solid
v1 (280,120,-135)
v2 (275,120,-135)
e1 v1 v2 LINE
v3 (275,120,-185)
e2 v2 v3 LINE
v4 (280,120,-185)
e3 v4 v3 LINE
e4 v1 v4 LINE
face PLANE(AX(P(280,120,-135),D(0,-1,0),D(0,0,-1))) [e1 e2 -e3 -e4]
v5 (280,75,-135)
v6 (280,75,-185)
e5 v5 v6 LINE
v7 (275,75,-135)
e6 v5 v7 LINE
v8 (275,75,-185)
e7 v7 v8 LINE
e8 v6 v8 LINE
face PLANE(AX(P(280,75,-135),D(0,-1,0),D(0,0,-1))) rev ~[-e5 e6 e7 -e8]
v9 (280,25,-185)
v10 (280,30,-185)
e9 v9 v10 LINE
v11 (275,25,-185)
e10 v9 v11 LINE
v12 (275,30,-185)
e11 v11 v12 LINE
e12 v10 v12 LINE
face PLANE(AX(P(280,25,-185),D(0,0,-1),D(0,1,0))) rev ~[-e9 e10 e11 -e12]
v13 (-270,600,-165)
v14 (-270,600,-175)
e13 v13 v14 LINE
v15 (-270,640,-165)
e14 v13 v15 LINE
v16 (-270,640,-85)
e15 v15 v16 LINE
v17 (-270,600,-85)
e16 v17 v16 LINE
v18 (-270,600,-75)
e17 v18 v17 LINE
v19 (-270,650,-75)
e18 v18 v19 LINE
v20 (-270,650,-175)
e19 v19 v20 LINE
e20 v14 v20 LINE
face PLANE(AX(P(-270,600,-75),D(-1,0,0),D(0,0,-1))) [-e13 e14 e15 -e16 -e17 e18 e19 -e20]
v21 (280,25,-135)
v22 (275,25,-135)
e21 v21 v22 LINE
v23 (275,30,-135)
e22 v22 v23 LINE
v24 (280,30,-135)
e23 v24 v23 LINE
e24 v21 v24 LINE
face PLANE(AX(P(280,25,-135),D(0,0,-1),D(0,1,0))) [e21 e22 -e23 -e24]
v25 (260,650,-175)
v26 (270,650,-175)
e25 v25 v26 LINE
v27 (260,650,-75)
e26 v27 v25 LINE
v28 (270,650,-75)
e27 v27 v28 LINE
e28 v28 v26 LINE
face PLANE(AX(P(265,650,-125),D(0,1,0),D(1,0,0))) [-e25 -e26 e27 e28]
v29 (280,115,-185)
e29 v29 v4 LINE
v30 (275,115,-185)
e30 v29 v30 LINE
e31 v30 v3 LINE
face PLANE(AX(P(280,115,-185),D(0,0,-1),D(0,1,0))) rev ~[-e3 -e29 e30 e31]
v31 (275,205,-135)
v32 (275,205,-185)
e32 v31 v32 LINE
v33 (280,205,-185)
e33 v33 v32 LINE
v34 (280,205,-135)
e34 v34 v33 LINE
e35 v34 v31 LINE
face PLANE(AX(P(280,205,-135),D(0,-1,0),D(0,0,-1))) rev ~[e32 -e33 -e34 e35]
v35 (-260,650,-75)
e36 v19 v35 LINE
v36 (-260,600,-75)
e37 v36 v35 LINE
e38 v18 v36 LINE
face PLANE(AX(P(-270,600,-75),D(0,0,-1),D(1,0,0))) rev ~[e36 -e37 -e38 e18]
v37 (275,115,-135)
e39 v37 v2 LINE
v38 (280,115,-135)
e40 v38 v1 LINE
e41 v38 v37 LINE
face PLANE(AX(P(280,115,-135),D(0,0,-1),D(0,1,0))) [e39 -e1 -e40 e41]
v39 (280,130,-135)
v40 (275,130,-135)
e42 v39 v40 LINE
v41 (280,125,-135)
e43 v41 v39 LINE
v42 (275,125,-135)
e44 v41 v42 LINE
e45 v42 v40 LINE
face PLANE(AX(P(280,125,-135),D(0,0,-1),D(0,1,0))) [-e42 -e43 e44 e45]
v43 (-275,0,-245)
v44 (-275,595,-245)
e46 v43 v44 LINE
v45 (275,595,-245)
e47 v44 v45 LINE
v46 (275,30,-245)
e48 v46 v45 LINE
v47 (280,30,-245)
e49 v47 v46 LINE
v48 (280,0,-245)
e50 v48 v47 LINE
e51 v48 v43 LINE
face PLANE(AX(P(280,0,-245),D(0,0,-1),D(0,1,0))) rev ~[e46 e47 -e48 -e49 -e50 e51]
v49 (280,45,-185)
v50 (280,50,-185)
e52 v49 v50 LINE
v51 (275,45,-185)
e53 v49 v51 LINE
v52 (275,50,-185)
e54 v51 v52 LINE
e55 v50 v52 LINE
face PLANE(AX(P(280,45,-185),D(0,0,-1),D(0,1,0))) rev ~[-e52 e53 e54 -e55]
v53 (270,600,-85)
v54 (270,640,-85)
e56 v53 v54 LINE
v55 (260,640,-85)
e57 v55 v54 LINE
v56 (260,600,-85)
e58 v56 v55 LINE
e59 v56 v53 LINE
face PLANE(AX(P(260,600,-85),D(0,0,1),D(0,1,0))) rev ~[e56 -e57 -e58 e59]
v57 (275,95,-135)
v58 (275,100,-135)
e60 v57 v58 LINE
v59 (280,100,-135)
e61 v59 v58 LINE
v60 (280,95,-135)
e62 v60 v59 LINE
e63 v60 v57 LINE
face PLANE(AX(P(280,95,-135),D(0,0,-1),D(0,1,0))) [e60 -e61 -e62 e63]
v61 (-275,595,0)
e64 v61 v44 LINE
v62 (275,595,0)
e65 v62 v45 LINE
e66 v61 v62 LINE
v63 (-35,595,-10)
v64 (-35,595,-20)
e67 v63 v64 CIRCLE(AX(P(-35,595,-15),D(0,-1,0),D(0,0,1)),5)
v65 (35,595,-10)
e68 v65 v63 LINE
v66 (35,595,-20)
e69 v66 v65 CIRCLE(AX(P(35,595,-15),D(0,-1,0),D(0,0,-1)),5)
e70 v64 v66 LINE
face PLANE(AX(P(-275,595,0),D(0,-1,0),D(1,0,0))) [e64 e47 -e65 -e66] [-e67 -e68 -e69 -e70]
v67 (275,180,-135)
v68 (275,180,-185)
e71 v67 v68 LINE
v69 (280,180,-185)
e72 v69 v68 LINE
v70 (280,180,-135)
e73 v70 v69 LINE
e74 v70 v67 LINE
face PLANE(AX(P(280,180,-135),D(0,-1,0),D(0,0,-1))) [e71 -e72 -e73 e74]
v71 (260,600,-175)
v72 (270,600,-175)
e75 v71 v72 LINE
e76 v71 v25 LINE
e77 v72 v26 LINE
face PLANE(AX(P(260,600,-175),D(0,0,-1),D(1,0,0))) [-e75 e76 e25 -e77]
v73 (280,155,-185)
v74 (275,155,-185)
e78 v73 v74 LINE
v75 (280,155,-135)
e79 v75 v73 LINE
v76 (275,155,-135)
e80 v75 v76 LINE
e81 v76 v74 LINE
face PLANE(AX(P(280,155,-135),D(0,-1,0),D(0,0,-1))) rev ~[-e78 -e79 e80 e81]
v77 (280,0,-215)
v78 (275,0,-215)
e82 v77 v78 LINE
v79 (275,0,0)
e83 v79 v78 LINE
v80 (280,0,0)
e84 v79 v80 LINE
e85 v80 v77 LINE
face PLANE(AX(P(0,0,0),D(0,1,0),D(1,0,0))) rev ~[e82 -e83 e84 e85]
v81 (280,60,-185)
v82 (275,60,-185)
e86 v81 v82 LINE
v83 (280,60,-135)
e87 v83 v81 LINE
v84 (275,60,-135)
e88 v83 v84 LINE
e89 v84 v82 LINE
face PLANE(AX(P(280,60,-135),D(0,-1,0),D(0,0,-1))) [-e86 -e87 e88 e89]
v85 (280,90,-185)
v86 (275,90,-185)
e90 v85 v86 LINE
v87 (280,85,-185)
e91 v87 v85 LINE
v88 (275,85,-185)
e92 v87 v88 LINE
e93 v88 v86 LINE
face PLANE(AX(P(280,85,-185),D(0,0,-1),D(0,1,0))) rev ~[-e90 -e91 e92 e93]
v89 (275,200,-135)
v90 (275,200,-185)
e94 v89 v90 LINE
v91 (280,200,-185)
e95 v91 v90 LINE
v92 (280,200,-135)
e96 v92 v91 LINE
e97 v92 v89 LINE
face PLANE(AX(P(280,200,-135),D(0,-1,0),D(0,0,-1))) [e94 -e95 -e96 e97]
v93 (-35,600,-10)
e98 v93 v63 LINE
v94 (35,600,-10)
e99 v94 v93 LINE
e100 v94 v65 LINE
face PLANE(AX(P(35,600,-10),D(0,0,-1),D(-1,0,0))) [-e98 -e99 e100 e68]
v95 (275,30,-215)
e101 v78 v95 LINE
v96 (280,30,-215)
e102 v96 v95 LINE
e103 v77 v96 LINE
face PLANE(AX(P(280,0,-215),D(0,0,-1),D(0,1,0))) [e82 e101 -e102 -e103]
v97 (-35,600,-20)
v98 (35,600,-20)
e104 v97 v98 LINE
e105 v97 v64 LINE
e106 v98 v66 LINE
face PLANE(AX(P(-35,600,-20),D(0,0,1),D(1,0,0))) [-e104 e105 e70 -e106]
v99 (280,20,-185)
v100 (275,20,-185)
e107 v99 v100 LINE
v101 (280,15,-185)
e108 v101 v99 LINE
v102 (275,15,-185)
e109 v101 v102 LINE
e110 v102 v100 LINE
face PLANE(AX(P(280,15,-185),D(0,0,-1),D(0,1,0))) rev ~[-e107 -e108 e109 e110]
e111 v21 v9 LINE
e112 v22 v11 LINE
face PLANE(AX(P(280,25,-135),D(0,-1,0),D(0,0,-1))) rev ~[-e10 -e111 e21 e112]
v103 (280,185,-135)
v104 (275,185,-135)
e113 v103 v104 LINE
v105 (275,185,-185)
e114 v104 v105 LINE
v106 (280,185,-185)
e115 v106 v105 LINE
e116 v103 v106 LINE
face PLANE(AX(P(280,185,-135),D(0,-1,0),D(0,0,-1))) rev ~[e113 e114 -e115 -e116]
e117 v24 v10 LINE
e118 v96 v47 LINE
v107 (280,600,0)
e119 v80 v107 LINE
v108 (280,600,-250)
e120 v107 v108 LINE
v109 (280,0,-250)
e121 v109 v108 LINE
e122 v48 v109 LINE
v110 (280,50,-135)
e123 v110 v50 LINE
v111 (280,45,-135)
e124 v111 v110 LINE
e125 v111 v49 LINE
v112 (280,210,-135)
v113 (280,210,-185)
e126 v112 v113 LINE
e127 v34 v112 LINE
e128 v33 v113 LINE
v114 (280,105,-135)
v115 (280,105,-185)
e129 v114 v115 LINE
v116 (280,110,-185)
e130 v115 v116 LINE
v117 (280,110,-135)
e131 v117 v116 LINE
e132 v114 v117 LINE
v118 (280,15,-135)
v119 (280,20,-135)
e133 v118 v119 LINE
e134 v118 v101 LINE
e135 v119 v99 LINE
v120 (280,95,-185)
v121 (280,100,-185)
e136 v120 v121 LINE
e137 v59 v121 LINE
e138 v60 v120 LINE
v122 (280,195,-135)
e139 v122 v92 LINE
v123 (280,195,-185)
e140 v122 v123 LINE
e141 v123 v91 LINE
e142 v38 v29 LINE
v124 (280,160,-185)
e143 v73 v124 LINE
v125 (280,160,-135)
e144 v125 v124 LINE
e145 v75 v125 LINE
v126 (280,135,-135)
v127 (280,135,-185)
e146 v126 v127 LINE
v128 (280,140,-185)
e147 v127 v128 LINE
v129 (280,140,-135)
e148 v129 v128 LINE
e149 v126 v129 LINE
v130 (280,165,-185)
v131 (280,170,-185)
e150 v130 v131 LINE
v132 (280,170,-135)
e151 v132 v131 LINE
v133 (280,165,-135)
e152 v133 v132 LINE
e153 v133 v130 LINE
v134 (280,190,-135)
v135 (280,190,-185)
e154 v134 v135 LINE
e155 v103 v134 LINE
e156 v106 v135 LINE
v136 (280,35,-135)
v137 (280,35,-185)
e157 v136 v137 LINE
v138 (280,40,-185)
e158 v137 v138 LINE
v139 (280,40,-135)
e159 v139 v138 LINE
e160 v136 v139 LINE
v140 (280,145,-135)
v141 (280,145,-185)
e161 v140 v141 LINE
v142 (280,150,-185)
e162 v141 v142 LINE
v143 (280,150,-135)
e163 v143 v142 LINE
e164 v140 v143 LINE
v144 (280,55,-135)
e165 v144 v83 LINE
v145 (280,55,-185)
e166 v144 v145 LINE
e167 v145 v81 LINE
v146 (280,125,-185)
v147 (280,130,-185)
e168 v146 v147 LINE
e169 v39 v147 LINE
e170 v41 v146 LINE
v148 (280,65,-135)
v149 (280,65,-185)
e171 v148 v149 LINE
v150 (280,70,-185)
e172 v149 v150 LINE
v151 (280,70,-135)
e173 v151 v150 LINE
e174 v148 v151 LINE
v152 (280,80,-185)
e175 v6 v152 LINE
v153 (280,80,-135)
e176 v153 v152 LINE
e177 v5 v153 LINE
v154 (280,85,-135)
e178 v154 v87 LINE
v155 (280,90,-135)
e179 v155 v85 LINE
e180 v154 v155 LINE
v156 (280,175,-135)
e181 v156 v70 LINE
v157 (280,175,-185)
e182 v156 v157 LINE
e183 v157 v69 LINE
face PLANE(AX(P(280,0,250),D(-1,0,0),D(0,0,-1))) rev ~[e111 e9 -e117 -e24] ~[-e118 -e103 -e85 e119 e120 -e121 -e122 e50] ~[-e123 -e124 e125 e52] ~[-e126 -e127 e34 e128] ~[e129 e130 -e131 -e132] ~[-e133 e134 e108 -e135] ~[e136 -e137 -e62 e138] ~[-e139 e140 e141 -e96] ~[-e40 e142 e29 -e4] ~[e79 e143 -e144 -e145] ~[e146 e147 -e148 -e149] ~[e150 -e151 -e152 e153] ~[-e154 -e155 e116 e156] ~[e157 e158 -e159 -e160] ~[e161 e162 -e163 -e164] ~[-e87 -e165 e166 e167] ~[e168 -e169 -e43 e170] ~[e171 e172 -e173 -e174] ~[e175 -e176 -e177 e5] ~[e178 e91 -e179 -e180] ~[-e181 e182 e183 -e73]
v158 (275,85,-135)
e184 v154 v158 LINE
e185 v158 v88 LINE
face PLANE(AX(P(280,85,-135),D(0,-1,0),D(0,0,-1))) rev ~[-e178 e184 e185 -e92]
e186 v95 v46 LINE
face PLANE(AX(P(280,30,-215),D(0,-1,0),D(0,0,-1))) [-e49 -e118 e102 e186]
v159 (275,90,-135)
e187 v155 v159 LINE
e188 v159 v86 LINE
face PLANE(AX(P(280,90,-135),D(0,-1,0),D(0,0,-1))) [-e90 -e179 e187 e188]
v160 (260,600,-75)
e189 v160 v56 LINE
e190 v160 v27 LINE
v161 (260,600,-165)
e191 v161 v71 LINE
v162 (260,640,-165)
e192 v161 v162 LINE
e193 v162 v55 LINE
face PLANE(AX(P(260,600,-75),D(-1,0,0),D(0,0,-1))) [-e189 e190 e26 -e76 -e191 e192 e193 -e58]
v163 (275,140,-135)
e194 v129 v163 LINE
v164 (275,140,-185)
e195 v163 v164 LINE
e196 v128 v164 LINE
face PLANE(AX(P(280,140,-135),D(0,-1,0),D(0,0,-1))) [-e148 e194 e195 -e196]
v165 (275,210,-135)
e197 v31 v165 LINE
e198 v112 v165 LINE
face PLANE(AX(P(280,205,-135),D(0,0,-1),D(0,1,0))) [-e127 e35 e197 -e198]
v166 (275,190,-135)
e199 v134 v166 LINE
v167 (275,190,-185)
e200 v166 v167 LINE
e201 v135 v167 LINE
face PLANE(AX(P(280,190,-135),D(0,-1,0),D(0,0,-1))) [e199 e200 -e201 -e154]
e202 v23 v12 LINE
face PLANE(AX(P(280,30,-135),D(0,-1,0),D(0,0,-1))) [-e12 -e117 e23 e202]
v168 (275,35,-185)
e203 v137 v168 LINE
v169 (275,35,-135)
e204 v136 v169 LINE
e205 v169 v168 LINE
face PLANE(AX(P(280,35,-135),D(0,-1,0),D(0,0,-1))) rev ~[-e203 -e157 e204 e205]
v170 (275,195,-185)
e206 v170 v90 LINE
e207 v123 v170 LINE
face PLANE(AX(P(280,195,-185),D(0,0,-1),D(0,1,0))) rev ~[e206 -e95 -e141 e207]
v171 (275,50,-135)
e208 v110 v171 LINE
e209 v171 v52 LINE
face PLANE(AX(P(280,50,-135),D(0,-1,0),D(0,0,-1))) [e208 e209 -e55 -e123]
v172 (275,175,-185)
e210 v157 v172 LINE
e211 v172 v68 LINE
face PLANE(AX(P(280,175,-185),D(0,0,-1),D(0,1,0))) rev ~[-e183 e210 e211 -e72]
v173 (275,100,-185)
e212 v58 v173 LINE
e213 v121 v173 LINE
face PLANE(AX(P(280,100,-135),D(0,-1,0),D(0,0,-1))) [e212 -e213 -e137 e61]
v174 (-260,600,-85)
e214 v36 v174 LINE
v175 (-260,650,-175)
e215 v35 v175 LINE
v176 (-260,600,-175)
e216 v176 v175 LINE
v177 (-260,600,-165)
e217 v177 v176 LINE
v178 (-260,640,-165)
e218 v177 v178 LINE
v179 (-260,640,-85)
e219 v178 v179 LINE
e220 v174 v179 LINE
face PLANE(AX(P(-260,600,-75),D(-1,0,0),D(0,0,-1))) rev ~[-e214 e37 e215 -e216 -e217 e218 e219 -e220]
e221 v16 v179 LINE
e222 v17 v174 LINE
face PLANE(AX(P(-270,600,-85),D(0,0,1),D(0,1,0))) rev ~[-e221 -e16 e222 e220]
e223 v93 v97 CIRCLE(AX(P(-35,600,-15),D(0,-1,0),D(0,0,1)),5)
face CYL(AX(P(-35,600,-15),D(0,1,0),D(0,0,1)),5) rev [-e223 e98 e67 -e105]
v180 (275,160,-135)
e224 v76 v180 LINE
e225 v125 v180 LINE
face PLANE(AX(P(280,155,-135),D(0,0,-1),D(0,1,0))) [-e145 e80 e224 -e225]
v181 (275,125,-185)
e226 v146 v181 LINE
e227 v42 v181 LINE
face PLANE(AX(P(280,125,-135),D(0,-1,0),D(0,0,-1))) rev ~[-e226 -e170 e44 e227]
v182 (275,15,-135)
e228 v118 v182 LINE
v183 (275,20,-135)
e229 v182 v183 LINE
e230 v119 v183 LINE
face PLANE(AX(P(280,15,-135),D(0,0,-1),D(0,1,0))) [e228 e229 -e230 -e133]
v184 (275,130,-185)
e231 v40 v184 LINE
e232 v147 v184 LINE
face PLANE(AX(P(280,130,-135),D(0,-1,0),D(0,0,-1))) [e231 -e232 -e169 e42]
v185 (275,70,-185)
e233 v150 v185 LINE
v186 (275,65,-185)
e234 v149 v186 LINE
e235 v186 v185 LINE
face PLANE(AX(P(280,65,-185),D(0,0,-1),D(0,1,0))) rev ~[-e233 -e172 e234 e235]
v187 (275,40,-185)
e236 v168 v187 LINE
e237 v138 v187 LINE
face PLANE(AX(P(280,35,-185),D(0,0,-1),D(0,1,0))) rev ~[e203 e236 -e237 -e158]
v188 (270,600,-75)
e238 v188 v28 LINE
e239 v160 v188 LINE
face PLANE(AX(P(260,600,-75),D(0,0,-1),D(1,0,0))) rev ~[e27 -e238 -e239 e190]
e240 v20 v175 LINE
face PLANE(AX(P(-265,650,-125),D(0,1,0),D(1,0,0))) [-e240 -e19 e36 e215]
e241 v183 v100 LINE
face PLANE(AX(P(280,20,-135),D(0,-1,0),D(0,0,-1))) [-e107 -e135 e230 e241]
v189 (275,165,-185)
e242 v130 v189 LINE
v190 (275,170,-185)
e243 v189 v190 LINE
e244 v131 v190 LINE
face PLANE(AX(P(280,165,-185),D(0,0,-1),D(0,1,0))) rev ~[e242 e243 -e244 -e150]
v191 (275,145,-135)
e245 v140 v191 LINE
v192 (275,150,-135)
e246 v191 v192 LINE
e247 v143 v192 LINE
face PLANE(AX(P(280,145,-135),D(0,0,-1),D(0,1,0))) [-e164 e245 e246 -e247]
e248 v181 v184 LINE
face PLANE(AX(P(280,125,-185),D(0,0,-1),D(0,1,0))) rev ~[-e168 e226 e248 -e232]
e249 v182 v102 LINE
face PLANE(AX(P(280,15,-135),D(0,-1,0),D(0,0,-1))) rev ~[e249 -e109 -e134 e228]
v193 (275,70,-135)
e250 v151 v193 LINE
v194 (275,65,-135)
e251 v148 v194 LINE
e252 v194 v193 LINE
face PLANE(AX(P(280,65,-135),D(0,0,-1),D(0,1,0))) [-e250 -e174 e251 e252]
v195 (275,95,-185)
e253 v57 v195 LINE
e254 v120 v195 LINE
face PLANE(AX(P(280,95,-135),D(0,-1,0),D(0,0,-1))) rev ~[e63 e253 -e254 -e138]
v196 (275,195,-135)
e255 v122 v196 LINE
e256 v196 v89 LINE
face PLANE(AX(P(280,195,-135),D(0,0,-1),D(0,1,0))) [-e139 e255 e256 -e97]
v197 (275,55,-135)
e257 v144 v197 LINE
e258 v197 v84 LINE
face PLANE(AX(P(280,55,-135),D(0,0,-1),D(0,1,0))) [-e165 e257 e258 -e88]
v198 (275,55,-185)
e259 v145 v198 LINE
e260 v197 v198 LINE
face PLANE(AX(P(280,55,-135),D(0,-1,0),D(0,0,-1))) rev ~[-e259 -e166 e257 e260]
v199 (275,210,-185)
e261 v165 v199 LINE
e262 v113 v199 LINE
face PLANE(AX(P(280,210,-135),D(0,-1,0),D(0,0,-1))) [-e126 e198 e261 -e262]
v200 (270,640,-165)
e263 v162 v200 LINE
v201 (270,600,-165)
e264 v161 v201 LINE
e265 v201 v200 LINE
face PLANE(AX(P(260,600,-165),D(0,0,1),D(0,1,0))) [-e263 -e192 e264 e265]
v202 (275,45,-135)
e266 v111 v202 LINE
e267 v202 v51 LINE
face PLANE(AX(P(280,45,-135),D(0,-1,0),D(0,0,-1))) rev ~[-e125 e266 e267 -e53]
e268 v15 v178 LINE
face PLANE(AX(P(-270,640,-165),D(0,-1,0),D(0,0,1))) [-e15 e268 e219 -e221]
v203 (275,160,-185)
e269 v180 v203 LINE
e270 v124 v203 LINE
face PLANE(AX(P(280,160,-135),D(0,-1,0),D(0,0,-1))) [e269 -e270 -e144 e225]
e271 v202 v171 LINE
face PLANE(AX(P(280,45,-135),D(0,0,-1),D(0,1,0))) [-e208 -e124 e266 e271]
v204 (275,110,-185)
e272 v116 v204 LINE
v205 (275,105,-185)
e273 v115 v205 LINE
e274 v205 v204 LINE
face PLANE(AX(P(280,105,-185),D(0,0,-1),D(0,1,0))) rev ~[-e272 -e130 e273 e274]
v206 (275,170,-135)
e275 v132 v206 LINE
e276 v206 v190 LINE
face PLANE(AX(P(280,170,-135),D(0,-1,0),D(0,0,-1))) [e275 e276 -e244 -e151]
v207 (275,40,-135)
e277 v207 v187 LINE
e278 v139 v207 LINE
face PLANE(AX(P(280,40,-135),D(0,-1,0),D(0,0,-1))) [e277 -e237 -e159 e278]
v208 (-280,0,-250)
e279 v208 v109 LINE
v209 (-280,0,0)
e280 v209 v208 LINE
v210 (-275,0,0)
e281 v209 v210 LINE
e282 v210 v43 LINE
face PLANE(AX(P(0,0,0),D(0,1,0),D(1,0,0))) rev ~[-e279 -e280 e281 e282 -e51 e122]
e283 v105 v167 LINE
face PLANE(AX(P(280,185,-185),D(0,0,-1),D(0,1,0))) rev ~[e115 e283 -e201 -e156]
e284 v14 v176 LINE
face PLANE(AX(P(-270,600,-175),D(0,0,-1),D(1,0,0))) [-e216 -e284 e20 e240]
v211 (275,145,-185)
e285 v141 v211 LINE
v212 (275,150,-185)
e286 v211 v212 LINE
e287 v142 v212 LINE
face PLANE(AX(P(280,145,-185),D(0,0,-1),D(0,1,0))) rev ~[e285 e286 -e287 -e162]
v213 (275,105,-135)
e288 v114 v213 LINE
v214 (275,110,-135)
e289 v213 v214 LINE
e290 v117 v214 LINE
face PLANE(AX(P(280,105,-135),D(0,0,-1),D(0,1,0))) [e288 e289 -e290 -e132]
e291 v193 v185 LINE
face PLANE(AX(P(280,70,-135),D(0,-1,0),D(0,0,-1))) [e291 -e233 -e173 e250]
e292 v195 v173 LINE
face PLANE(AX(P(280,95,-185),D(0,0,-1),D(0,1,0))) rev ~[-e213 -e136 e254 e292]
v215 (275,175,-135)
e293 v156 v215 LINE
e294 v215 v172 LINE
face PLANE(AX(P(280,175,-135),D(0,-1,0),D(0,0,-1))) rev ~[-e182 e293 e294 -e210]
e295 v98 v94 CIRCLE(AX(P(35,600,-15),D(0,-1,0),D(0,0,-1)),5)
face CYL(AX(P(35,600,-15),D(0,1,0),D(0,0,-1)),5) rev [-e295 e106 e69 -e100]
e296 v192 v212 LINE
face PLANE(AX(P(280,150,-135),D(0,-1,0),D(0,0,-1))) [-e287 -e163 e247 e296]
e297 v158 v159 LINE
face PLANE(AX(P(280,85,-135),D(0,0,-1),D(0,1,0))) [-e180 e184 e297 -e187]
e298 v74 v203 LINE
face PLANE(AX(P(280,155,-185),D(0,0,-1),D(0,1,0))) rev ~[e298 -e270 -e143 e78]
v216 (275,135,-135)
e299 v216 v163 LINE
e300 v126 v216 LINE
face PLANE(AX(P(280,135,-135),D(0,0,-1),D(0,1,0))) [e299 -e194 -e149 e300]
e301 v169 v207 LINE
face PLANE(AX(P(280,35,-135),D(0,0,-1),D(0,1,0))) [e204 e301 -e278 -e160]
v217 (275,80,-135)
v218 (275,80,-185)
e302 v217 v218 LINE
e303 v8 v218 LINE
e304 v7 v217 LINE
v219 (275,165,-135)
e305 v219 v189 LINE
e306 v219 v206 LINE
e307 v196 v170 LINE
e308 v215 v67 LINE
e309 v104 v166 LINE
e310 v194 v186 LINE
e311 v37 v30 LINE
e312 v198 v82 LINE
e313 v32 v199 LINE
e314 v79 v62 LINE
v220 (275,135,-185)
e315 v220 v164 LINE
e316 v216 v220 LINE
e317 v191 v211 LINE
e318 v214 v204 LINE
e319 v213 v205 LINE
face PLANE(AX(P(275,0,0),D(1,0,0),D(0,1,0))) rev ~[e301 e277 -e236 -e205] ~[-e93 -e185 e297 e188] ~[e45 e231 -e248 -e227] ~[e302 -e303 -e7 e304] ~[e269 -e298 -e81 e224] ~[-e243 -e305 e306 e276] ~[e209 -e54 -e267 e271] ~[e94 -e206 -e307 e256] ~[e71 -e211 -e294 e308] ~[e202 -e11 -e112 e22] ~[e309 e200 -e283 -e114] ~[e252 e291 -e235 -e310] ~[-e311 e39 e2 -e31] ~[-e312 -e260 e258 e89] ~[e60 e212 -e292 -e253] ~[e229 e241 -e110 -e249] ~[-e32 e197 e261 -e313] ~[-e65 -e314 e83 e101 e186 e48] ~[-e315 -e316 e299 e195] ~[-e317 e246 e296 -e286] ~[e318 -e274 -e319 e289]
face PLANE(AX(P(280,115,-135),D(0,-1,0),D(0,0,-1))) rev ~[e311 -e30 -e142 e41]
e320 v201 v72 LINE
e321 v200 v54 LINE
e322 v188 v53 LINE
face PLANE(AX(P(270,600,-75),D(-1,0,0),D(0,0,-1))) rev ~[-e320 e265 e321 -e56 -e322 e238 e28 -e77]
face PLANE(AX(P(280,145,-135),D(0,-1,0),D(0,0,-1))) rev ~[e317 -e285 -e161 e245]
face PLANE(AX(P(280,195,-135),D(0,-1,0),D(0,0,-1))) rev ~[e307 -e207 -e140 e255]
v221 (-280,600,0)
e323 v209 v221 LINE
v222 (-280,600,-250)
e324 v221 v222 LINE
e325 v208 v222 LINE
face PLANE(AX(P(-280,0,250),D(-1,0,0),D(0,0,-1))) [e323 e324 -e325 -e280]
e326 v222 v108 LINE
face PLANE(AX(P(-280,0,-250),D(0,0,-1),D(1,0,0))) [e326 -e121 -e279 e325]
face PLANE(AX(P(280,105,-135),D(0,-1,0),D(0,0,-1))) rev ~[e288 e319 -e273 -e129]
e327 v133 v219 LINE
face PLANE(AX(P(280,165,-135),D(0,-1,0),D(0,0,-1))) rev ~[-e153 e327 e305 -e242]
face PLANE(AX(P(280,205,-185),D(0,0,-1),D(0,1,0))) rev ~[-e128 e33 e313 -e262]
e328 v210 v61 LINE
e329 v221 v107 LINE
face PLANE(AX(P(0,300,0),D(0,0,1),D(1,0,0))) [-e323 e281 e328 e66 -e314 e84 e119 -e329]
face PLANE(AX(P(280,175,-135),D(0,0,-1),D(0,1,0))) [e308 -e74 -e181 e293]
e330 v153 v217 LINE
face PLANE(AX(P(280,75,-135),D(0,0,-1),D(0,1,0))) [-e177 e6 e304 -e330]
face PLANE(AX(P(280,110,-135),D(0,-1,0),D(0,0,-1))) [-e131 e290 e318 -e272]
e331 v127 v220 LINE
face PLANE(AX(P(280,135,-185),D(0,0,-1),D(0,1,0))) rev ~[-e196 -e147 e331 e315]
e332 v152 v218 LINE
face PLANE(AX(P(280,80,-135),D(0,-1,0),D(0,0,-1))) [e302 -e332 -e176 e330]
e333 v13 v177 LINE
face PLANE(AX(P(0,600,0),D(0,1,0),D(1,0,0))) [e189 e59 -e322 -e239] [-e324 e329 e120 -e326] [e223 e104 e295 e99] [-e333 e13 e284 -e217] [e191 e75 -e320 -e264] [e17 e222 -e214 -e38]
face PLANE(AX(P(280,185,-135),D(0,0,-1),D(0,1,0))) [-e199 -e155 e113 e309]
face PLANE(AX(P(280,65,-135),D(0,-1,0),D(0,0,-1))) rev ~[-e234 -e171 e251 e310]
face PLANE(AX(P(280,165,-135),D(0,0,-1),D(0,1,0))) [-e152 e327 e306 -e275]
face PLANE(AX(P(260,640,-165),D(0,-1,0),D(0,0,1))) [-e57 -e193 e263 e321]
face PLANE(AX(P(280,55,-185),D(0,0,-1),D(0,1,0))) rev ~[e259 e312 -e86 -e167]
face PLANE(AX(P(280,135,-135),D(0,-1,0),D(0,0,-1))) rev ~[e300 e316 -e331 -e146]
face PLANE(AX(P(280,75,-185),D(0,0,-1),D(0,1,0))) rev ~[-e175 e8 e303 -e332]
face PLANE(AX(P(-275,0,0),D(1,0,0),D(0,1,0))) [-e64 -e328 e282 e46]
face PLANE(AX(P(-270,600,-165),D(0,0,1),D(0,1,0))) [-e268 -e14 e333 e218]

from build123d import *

# Parameters (mm, degrees)
ESBO_O1_W                = 560
ESBO_O1_H                = 500
RESSALTO_EXTRUS_O1_DEPTH = 600
ESBO_O2_W                = 570
ESBO_O2_H                = 610
CORTE_EXTRUS_O1_DEPTH    = 250
ESBO_O6_W                = 550
ESBO_O6_H                = 595
CORTE_EXTRUS_O4_DEPTH    = 245
ESBO_O7_W                = 30
ESBO_O7_H                = 30
CABO_DE_ALIMENTA_O_DEPTH = 5
ESBO_O9_W                = 50
ESBO_O9_H                = 5
CORTE_EXTRUS_O6_DEPTH    = 5
PASSAGEM_FILAMENTO_DEPTH = 5
ESBO_O69_W               = 10
ESBO_O69_H               = 100
AL_A_2_DEPTH             = 50
ESBO_O70_W               = 80
ESBO_O70_H               = 40
AL_A_2_2_DEPTH           = 10
ESBO_O72_W               = 10
ESBO_O72_H               = 100
AL_A_1_DEPTH             = 50
ESBO_O74_W               = 80
ESBO_O74_H               = 40
AL_A_1_2_DEPTH           = 10


with BuildPart() as part:
    # Esboço1 → Ressalto-extrusão1 (new body)
    with BuildSketch(Plane(origin=(0, 0, 0), x_dir=(1, 0, 0), z_dir=(0, 1, 0))):
        Rectangle(ESBO_O1_W, ESBO_O1_H)
    extrude(amount=RESSALTO_EXTRUS_O1_DEPTH)

    # Esboço2 → Corte-extrusão1 (cut)
    with BuildSketch(Plane.XY.offset(250)):
        with Locations((0, 300)):
            Rectangle(ESBO_O2_W, ESBO_O2_H)
    extrude(amount=-CORTE_EXTRUS_O1_DEPTH, mode=Mode.SUBTRACT)

    # Esboço6 → Corte-extrusão4 (cut)
    with BuildSketch(Plane.XY):
        with Locations((0, 297.5)):
            Rectangle(ESBO_O6_W, ESBO_O6_H)
    extrude(amount=-CORTE_EXTRUS_O4_DEPTH, mode=Mode.SUBTRACT)

    # Esboço7 → Cabo de alimentação (cut)
    with BuildSketch(Plane(origin=(280, 0, 0), x_dir=(0, 0, -1), z_dir=(1, 0, 0))):
        with Locations((230, 15)):
            Rectangle(ESBO_O7_W, ESBO_O7_H)
    extrude(amount=-CABO_DE_ALIMENTA_O_DEPTH, mode=Mode.SUBTRACT)

    # Esboço9 → Corte-extrusão6 (cut)
    with BuildSketch(Plane(origin=(280, 0, 0), x_dir=(0, 0, -1), z_dir=(1, 0, 0))):
        with Locations((160, 17.5)):
            Rectangle(ESBO_O9_W, ESBO_O9_H)
        with Locations((160, 27.5)):
            Rectangle(ESBO_O9_W, ESBO_O9_H)
        with Locations((160, 47.5)):
            Rectangle(ESBO_O9_W, ESBO_O9_H)
        with Locations((160, 37.5)):
            Rectangle(ESBO_O9_W, ESBO_O9_H)
        with Locations((160, 67.5)):
            Rectangle(ESBO_O9_W, ESBO_O9_H)
        with Locations((160, 77.5)):
            Rectangle(ESBO_O9_W, ESBO_O9_H)
        with Locations((160, 87.5)):
            Rectangle(ESBO_O9_W, ESBO_O9_H)
        with Locations((160, 57.5)):
            Rectangle(ESBO_O9_W, ESBO_O9_H)
        with Locations((160, 107.5)):
            Rectangle(ESBO_O9_W, ESBO_O9_H)
        with Locations((160, 157.5)):
            Rectangle(ESBO_O9_W, ESBO_O9_H)
        with Locations((160, 117.5)):
            Rectangle(ESBO_O9_W, ESBO_O9_H)
        with Locations((160, 167.5)):
            Rectangle(ESBO_O9_W, ESBO_O9_H)
        with Locations((160, 127.5)):
            Rectangle(ESBO_O9_W, ESBO_O9_H)
        with Locations((160, 97.5)):
            Rectangle(ESBO_O9_W, ESBO_O9_H)
        with Locations((160, 147.5)):
            Rectangle(ESBO_O9_W, ESBO_O9_H)
        with Locations((160, 137.5)):
            Rectangle(ESBO_O9_W, ESBO_O9_H)
        with Locations((160, 177.5)):
            Rectangle(ESBO_O9_W, ESBO_O9_H)
        with Locations((160, 187.5)):
            Rectangle(ESBO_O9_W, ESBO_O9_H)
        with Locations((160, 207.5)):
            Rectangle(ESBO_O9_W, ESBO_O9_H)
        with Locations((160, 197.5)):
            Rectangle(ESBO_O9_W, ESBO_O9_H)
    extrude(amount=-CORTE_EXTRUS_O6_DEPTH, mode=Mode.SUBTRACT)

    # Esboço68 → Passagem Filamento (cut)
    with BuildSketch(Plane(origin=(0, 600, 0), x_dir=(1, 0, 0), z_dir=(0, 1, 0))):
        with BuildLine():
            Line((-35, 20), (35, 20))
            ThreePointArc((35, 20), (40, 15), (35, 10))
            Line((35, 10), (-35, 10))
            ThreePointArc((-35, 10), (-40, 15), (-35, 20))
        make_face()
    extrude(amount=-PASSAGEM_FILAMENTO_DEPTH, mode=Mode.SUBTRACT)

    # Esboço69 → Al_a - 2 (add)
    with BuildSketch(Plane(origin=(0, 600, 0), x_dir=(1, 0, 0), z_dir=(0, 1, 0))):
        with Locations((-265, 125)):
            Rectangle(ESBO_O69_W, ESBO_O69_H)
    extrude(amount=AL_A_2_DEPTH)

    # Esboço70 → Al_a _2 2 (cut)
    with BuildSketch(Plane.ZY.offset(270)):
        with Locations((-125, 620)):
            Rectangle(ESBO_O70_W, ESBO_O70_H)
    extrude(amount=-AL_A_2_2_DEPTH, mode=Mode.SUBTRACT)

    # Esboço72 → Al_a - 1 (add)
    with BuildSketch(Plane(origin=(531.113648875, 600, -10.670910915), x_dir=(1, 0, 0), z_dir=(0, 1, 0))):
        with Locations((-266.113648875, 114.329089085)):
            Rectangle(ESBO_O72_W, ESBO_O72_H)
    extrude(amount=AL_A_1_DEPTH)

    # Esboço74 → Al_a _1 2 (cut)
    with BuildSketch(Plane(origin=(260, 0, -10.670910915), x_dir=(0, 0, 1), z_dir=(-1, 0, 0))):
        with Locations((-114.329089085, 620)):
            Rectangle(ESBO_O74_W, ESBO_O74_H)
    extrude(amount=-AL_A_1_2_DEPTH, mode=Mode.SUBTRACT)


solid = part.part
